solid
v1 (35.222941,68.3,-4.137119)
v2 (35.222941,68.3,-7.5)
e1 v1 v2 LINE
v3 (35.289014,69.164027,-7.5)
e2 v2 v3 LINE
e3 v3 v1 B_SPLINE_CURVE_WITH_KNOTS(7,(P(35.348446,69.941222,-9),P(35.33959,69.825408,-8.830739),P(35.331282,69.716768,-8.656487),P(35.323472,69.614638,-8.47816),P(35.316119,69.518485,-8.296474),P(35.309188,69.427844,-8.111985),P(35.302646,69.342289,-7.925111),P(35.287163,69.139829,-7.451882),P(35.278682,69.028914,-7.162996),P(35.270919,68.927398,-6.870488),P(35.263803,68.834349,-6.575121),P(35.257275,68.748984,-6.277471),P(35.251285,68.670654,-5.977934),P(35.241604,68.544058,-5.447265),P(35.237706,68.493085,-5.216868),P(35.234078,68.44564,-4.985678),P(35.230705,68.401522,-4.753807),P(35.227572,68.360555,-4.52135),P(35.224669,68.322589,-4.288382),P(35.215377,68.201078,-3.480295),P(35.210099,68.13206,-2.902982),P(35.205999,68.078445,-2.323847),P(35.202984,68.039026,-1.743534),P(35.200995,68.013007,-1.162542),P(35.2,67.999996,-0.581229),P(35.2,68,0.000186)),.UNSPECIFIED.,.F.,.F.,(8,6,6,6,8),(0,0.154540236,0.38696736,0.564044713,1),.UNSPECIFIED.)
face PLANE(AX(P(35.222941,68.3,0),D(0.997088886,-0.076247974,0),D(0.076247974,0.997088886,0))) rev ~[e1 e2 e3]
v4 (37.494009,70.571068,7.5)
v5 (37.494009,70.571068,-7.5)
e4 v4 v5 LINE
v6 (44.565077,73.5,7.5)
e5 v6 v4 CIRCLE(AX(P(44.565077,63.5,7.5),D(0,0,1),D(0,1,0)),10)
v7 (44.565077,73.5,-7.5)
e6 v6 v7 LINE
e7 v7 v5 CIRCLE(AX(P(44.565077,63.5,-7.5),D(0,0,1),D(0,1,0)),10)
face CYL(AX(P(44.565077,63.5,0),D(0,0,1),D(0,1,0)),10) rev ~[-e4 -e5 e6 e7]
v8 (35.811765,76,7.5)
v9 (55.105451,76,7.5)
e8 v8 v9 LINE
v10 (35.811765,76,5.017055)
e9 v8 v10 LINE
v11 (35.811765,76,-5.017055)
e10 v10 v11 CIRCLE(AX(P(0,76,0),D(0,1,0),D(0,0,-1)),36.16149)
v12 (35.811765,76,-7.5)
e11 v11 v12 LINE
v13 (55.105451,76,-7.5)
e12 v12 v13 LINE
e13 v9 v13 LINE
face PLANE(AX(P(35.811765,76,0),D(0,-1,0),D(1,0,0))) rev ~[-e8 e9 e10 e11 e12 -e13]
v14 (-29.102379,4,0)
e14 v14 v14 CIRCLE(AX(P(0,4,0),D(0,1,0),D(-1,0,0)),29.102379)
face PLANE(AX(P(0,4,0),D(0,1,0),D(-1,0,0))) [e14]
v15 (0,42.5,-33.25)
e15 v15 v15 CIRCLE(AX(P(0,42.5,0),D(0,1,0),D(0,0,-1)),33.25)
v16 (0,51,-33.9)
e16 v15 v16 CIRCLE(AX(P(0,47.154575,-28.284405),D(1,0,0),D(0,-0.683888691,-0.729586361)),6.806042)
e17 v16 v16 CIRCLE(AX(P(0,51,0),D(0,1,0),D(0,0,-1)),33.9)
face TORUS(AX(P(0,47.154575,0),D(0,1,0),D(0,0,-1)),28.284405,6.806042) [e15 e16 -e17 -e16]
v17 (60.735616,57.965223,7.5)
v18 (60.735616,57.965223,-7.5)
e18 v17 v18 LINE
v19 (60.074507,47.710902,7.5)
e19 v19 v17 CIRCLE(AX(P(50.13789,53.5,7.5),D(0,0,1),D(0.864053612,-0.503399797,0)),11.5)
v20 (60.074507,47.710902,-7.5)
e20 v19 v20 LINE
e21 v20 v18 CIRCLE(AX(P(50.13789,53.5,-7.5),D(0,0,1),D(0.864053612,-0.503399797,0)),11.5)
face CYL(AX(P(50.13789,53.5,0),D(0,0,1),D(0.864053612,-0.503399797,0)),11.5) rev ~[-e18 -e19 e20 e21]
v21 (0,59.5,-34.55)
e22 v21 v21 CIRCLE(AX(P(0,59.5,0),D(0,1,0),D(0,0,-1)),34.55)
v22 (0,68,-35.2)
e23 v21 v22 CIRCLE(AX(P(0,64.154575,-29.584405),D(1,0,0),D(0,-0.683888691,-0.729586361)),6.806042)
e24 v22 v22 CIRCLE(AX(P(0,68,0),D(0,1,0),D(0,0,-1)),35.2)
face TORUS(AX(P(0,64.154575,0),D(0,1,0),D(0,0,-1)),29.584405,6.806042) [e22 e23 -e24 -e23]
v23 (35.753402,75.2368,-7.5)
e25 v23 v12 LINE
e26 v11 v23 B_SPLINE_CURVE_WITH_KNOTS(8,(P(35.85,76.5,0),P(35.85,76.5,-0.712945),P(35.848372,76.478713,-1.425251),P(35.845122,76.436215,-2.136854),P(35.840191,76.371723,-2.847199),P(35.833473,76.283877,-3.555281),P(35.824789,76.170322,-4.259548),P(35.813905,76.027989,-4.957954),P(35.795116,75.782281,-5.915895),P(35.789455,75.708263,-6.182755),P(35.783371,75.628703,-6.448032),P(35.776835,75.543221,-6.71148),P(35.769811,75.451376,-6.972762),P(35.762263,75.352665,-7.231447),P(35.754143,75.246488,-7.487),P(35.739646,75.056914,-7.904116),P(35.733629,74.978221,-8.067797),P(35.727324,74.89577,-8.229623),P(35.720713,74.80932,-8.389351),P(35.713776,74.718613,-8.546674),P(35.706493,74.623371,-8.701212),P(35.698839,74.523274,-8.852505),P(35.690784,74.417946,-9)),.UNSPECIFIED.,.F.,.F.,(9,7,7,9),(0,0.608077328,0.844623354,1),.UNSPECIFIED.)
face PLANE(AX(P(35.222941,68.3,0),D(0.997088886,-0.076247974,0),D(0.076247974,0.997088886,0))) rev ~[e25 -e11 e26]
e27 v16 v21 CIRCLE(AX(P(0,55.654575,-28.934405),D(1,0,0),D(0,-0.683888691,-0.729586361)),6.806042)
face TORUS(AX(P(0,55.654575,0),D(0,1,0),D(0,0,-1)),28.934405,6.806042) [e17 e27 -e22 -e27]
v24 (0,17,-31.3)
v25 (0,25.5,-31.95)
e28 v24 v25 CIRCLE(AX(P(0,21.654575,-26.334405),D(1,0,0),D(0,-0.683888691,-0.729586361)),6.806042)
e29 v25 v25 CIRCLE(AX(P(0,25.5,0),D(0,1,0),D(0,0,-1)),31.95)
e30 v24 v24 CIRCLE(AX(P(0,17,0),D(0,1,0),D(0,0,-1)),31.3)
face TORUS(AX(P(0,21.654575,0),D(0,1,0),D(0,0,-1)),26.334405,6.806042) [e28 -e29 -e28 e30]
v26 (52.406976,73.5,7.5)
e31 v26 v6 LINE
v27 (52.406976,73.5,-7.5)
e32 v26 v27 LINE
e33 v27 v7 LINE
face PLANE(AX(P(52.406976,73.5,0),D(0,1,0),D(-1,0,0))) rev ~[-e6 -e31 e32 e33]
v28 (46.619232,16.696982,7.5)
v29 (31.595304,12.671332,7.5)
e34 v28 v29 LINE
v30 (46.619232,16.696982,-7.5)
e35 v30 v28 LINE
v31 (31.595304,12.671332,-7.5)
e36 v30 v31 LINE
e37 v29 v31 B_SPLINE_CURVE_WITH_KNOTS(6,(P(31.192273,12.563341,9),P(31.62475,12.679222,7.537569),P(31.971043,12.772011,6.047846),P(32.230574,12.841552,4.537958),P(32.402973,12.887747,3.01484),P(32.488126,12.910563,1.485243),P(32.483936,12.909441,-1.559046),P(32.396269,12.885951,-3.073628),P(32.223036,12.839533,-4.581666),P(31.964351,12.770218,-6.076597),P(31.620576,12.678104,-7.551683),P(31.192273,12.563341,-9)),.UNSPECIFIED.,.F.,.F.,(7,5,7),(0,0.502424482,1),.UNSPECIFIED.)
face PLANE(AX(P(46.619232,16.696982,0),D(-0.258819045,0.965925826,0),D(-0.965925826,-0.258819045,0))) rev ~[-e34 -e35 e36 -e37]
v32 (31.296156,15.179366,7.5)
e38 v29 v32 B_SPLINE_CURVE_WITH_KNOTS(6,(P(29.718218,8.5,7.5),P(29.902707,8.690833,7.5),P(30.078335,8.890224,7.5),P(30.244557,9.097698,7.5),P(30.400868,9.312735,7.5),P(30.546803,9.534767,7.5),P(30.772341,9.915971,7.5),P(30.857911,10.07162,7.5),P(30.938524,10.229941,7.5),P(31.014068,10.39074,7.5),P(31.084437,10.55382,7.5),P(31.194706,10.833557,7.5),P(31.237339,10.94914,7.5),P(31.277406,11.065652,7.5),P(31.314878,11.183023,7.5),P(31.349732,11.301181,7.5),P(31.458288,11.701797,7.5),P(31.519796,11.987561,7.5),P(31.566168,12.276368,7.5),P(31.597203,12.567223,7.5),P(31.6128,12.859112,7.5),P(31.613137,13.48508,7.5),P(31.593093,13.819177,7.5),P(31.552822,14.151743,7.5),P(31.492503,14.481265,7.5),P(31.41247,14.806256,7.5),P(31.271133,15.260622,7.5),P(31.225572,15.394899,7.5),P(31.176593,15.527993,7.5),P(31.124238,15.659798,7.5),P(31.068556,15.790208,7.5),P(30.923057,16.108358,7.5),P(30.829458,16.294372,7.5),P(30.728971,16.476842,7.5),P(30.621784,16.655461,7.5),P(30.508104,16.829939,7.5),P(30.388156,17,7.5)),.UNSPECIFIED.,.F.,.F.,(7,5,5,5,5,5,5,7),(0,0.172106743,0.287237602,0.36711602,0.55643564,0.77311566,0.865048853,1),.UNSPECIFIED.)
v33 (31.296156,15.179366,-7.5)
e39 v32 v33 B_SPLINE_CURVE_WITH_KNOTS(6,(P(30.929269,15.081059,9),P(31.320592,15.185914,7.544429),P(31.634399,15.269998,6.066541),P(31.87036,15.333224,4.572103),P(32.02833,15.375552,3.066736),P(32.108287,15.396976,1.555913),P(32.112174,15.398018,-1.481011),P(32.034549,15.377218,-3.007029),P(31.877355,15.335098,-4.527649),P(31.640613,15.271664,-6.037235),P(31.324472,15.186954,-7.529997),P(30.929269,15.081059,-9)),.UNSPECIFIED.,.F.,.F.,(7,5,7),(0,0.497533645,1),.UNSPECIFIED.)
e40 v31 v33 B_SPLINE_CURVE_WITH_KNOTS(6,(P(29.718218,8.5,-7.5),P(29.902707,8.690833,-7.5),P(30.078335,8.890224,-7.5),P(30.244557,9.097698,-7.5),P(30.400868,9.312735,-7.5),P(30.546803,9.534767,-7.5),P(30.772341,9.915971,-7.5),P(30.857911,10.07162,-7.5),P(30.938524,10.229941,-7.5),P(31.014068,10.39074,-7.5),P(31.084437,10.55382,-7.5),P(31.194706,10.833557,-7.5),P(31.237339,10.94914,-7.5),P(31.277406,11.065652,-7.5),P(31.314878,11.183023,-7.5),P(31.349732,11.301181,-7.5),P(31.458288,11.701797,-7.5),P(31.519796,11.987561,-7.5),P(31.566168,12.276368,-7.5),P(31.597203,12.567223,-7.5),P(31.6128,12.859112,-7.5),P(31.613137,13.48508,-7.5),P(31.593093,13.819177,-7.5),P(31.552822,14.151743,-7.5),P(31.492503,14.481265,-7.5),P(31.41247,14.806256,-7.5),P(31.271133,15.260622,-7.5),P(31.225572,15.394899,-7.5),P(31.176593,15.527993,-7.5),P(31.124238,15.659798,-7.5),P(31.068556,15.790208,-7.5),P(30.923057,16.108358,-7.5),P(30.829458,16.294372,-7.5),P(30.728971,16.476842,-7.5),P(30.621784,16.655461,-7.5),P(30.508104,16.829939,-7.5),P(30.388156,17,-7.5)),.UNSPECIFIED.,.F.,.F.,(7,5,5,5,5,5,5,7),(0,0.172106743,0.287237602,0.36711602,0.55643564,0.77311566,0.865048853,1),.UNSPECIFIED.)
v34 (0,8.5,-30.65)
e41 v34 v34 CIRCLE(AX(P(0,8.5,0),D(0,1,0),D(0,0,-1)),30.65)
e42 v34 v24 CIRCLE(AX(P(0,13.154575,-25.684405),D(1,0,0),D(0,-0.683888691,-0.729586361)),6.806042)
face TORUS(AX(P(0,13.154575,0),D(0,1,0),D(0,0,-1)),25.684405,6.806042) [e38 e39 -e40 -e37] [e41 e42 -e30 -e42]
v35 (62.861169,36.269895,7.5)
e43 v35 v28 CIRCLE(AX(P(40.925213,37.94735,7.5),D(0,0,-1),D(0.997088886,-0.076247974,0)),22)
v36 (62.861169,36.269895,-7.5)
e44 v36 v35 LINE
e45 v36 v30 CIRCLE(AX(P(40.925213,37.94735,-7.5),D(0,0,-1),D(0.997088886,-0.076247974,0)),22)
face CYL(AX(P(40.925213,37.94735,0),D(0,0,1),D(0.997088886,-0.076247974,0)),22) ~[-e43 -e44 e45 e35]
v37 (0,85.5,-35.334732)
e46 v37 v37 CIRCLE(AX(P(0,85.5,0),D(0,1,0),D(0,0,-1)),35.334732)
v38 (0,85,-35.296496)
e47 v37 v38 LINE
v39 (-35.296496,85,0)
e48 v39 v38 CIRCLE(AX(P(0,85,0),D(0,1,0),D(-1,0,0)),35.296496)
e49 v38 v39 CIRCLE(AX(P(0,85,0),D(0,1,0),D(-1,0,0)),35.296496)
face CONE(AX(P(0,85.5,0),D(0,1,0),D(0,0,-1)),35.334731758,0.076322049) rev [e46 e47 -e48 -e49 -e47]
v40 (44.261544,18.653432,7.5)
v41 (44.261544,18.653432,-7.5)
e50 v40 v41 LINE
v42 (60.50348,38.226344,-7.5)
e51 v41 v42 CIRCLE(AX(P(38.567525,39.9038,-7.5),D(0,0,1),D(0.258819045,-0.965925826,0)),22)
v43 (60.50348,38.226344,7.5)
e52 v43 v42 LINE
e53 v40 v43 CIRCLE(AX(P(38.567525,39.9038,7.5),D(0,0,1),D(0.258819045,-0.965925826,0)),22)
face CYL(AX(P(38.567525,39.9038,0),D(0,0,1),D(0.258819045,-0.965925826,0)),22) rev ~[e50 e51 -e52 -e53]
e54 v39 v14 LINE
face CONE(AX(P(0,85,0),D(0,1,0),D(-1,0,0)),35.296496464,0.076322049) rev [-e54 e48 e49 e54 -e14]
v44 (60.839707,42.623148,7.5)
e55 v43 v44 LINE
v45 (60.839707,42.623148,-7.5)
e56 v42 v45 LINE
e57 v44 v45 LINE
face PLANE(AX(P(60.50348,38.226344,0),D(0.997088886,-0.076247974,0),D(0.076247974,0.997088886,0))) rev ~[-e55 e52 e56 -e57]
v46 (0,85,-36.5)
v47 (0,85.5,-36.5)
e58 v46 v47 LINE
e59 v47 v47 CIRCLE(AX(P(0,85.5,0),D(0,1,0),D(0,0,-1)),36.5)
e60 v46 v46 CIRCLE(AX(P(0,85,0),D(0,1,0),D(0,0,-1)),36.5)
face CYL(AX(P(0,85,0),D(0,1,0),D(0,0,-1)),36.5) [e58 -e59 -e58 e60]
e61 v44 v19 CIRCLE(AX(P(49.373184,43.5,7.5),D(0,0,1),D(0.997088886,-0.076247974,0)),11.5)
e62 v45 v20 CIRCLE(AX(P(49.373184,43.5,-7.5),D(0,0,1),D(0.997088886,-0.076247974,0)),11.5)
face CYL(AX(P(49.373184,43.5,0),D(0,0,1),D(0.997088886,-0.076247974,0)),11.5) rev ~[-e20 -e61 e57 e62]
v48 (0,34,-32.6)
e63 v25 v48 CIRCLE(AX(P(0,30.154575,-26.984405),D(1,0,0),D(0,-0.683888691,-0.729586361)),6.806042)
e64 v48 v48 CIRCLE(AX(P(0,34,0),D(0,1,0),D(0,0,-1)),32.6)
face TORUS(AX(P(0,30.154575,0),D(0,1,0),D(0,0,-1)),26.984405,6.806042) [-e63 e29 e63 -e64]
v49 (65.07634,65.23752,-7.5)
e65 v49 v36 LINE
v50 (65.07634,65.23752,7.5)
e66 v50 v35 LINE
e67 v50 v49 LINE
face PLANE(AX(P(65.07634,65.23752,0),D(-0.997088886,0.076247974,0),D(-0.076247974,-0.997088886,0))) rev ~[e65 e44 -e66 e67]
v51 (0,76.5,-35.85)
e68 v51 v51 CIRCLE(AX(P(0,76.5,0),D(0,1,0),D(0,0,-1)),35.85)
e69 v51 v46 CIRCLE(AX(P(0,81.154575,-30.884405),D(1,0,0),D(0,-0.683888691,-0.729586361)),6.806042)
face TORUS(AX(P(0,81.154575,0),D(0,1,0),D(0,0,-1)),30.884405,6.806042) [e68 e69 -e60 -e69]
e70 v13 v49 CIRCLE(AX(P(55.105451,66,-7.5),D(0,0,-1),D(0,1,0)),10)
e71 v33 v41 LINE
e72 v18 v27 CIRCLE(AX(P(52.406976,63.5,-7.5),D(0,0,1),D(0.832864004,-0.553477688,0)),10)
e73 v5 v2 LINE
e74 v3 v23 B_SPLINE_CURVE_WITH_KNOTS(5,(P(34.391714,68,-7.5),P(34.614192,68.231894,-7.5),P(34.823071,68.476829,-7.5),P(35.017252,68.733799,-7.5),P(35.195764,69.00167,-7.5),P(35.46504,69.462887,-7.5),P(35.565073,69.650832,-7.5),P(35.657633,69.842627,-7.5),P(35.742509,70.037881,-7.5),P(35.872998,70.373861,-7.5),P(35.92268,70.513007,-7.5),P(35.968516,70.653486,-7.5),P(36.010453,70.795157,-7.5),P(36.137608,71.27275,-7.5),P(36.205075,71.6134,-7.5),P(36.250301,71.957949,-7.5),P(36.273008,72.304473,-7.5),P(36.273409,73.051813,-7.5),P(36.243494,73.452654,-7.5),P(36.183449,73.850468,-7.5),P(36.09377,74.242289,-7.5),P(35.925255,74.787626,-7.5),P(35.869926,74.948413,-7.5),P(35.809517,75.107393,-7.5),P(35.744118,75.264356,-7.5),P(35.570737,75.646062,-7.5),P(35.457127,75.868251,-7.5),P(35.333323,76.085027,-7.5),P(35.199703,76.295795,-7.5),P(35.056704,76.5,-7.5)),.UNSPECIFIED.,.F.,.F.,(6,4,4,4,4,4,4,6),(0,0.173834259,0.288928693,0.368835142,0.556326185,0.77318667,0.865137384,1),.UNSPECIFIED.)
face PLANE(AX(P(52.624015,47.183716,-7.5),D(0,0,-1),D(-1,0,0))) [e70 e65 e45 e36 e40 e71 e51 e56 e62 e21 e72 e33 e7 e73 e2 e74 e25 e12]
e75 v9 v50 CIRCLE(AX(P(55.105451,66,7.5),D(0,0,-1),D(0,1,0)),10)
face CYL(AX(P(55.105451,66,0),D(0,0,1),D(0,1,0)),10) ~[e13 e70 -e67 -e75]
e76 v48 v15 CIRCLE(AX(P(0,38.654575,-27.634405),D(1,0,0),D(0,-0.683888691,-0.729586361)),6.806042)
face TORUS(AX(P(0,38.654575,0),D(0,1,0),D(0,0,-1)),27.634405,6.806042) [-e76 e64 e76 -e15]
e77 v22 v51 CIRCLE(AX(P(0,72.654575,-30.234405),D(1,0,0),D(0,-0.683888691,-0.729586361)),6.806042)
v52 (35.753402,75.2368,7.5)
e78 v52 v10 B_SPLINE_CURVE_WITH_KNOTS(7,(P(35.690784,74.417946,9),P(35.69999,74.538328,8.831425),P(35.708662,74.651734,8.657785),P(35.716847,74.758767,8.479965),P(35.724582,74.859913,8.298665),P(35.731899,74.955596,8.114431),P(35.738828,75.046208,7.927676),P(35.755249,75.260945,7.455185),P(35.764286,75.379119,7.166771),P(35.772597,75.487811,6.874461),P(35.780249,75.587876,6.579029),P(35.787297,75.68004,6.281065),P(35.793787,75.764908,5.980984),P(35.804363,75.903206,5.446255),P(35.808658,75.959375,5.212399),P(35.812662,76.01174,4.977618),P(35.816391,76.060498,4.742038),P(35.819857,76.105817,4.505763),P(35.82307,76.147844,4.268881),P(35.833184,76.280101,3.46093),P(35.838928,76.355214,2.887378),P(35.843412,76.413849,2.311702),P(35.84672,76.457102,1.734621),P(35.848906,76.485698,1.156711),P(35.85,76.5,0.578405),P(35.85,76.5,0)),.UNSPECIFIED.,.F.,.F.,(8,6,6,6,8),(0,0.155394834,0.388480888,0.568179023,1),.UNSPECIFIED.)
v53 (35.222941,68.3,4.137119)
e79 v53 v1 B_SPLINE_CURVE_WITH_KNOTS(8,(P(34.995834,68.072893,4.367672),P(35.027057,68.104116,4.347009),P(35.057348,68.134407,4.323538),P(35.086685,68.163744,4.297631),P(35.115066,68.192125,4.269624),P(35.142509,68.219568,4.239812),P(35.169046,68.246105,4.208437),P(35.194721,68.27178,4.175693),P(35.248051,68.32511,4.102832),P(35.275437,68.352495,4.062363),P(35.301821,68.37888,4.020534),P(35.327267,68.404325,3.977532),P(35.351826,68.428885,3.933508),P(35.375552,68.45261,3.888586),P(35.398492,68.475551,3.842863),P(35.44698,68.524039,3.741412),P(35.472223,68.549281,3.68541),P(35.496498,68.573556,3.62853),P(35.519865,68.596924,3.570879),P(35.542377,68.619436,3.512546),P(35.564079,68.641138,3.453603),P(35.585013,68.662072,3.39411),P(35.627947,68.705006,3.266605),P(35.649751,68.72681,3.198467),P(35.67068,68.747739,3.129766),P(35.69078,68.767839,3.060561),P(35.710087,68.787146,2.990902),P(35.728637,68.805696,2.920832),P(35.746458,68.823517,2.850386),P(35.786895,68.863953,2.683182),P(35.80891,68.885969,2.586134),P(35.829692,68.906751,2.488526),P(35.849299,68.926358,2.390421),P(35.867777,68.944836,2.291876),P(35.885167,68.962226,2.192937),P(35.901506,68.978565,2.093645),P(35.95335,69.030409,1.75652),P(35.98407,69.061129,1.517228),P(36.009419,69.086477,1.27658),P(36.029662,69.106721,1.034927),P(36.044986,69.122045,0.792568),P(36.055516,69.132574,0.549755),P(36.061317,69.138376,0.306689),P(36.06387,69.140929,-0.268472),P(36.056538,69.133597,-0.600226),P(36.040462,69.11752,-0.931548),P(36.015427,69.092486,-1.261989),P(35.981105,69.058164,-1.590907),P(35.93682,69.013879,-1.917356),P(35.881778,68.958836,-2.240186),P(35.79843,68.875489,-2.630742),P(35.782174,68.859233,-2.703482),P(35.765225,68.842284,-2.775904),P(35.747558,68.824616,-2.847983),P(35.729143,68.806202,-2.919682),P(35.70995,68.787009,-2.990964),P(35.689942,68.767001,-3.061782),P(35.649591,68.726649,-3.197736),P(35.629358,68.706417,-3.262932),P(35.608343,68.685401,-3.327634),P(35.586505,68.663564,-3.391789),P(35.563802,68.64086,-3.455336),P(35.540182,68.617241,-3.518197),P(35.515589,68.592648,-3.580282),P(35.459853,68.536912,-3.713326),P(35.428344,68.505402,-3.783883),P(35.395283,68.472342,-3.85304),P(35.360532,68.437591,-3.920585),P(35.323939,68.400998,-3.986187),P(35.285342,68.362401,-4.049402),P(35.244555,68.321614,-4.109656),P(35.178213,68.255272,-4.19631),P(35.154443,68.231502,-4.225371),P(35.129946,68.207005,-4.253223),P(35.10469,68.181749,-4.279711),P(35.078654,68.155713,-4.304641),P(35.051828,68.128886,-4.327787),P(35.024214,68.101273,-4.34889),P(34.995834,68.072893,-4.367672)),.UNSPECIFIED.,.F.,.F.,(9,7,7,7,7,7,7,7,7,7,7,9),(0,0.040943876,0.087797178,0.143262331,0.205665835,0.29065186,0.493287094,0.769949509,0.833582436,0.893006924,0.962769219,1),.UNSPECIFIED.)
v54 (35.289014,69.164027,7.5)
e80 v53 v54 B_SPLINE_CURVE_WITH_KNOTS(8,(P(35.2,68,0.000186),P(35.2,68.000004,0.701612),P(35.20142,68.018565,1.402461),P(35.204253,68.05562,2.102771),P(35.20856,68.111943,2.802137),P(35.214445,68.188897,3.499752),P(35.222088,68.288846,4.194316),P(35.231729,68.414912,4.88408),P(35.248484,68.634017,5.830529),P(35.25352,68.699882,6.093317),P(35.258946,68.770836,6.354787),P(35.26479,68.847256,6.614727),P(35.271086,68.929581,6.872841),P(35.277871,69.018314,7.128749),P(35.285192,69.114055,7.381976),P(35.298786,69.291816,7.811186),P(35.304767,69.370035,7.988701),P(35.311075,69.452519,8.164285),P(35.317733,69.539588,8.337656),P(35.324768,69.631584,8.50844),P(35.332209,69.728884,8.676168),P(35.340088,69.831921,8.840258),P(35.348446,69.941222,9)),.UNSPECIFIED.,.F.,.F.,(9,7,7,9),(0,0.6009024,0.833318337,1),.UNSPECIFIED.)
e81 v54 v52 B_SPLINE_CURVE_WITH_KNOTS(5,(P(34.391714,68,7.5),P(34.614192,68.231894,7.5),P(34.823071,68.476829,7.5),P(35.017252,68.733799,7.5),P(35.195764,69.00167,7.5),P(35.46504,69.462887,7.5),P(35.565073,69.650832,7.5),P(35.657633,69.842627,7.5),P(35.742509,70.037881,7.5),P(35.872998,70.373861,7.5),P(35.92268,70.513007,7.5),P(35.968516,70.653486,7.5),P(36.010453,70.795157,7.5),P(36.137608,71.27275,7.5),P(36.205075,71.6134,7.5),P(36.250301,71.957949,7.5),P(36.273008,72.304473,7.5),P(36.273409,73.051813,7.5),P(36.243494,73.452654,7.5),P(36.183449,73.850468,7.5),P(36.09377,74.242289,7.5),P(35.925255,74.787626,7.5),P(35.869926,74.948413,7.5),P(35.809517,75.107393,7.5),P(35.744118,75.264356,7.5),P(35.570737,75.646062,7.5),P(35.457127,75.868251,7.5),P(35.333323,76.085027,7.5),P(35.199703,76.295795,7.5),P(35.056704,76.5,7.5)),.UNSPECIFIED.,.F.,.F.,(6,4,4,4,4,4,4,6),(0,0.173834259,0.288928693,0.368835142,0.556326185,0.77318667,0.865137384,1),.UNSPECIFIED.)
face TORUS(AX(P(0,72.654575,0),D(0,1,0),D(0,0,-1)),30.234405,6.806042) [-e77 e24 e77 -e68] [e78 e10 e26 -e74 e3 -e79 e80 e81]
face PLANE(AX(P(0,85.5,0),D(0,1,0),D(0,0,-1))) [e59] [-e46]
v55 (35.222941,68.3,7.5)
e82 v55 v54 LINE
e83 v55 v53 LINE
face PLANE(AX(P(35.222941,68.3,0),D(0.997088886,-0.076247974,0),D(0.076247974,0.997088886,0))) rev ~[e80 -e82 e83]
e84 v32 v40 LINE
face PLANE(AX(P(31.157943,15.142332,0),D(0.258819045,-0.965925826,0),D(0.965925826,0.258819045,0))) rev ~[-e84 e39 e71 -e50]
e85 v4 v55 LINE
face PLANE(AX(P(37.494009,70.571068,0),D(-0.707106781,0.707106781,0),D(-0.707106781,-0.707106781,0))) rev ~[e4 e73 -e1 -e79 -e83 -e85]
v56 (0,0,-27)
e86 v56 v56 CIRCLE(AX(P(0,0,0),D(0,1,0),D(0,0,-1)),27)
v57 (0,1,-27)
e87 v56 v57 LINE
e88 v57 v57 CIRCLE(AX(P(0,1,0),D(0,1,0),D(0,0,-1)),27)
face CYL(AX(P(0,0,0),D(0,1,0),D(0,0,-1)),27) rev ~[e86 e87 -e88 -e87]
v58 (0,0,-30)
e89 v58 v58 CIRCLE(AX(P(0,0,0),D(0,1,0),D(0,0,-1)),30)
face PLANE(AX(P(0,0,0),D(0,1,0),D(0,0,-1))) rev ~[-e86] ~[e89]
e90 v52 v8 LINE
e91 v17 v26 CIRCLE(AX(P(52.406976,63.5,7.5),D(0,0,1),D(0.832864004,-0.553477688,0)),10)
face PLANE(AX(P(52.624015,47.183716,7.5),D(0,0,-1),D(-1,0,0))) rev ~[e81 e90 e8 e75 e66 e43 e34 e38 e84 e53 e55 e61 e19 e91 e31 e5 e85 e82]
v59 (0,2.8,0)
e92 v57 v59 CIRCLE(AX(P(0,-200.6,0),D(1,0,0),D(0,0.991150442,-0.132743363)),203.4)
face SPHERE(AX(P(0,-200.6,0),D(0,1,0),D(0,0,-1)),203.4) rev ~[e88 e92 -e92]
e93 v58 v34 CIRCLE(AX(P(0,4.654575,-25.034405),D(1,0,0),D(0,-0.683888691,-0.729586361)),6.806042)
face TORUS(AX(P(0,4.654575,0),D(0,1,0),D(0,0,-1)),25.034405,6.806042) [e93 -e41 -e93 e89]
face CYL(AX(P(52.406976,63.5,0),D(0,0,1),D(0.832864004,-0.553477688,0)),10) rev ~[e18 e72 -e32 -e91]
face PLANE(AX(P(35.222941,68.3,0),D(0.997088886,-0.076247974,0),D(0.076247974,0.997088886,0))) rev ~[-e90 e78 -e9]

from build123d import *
from build123d.topology import SkipClean

# Parameters (mm, degrees)
BOSS_EXTRUDE1_DEPTH = 7.5


with BuildPart() as part:
    # Sketch1 → Revolve1 (revolve)
    with BuildSketch(Plane.XY, mode=Mode.PRIVATE) as revolve1_sk:
        with BuildLine():
            Line((0, 85), (36.5, 85))
            Line((36.5, 85), (30, 0))
            Line((30, 0), (27, 0))
            Line((27, 0), (27, 1))
            ThreePointArc((27, 1), (13.529966741, 2.349501108), (0, 2.8))
            Line((0, 2.8), (0, 85))
        make_face()
    revolve(revolve1_sk.sketch.rotate(Axis((0, 0, 0), (0, 1, 0)), 90), axis=Axis((0, 0, 0), (0, 1, 0)))

    # Sketch2 → Revolve2 (revolve)
    with BuildSketch(Plane.XY, mode=Mode.PRIVATE) as revolve2_sk:
        with BuildLine():
            Line((36.5, 85), (35.85, 76.5))
            ThreePointArc((35.85, 76.5), (37.670633329, 80.63562804), (36.5, 85))
        make_face()
        with BuildLine():
            Line((35.85, 76.5), (35.2, 68))
            ThreePointArc((35.2, 68), (37.020633329, 72.13562804), (35.85, 76.5))
        make_face()
        with BuildLine():
            Line((35.2, 68), (34.55, 59.5))
            ThreePointArc((34.55, 59.5), (36.370633329, 63.63562804), (35.2, 68))
        make_face()
        with BuildLine():
            Line((34.55, 59.5), (33.9, 51))
            ThreePointArc((33.9, 51), (35.720633329, 55.13562804), (34.55, 59.5))
        make_face()
        with BuildLine():
            Line((33.9, 51), (33.25, 42.5))
            ThreePointArc((33.25, 42.5), (35.070633329, 46.63562804), (33.9, 51))
        make_face()
        with BuildLine():
            Line((33.25, 42.5), (32.6, 34))
            ThreePointArc((32.6, 34), (34.420633329, 38.13562804), (33.25, 42.5))
        make_face()
        with BuildLine():
            Line((32.6, 34), (31.95, 25.5))
            ThreePointArc((31.95, 25.5), (33.770633329, 29.63562804), (32.6, 34))
        make_face()
        with BuildLine():
            Line((31.95, 25.5), (31.3, 17))
            ThreePointArc((31.3, 17), (33.120633329, 21.13562804), (31.95, 25.5))
        make_face()
        with BuildLine():
            Line((31.3, 17), (30.65, 8.5))
            ThreePointArc((30.65, 8.5), (32.470633329, 12.63562804), (31.3, 17))
        make_face()
        with BuildLine():
            Line((30.65, 8.5), (30, 0))
            ThreePointArc((30, 0), (31.820633329, 4.13562804), (30.65, 8.5))
        make_face()
    revolve(revolve2_sk.sketch.rotate(Axis((0, 0, 0), (0, 1, 0)), 90), axis=Axis((0, 0, 0), (0, 1, 0)))

    # Sketch3 → Boss-Extrude1 (add, symmetric)
    with BuildSketch(Plane.XY):
        with BuildLine():
            Line((30.955882353, 12.5), (31.15794307, 15.142332457))
            Line((31.15794307, 15.142332457), (44.261543917, 18.653431722))
            ThreePointArc((44.261543917, 18.653431722), (55.497634226, 25.854906739), (60.503480416, 38.22634448))
            Line((60.503480416, 38.22634448), (60.839706591, 42.623148303))
            ThreePointArc((60.839706591, 42.623148303), (60.745283765, 45.210367237), (60.074506822, 47.710902334))
            ThreePointArc((60.074506822, 47.710902334), (61.614064422, 52.76011679), (60.735615628, 57.965223124))
            ThreePointArc((60.735615628, 57.965223124), (61.220254453, 68.225051917), (52.406975587, 73.5))
            Line((52.406975587, 73.5), (44.5650768, 73.5))
            ThreePointArc((44.5650768, 73.5), (40.738242477, 72.738795325), (37.494008988, 70.571067812))
            Line((37.494008988, 70.571067812), (35.222941176, 68.3))
            Line((35.222941176, 68.3), (35.811764706, 76))
            Line((35.811764706, 76), (55.105451091, 76))
            ThreePointArc((55.105451091, 76), (62.44114456, 72.796146064), (65.07633995, 65.237520264))
            Line((65.07633995, 65.237520264), (62.861168581, 36.269894669))
            ThreePointArc((62.861168581, 36.269894669), (57.855322391, 23.898456928), (46.619232082, 16.696981911))
            Line((46.619232082, 16.696981911), (30.955882353, 12.5))
        make_face()
    extrude(amount=BOSS_EXTRUDE1_DEPTH, both=True)

    # Sketch4 → Cut-Revolve1 (revolve, cut)
    with BuildSketch(Plane.XY, mode=Mode.PRIVATE) as cut_revolve1_sk:
        Polygon((35.296496464, 85), (29.102378817, 4), (0, 4), (0, 85), align=None)
    revolve(cut_revolve1_sk.sketch.rotate(Axis((0, 0, 0), (0, 1, 0)), 180), axis=Axis((0, 0, 0), (0, 1, 0)), mode=Mode.SUBTRACT)

    # Sketch5 → Revolve3 (revolve)
    with SkipClean():  # the faces are left unmerged after this step: merging them gives an invalid solid
        with BuildSketch(Plane.XY, mode=Mode.PRIVATE) as revolve3_sk:
            Polygon((35.296496464, 85), (36.5, 85), (36.5, 85.5), (35.334731758, 85.5), align=None)
        revolve(revolve3_sk.sketch.rotate(Axis((0, 0, 0), (0, 1, 0)), 90), axis=Axis((0, 0, 0), (0, 1, 0)))


solid = part.part
